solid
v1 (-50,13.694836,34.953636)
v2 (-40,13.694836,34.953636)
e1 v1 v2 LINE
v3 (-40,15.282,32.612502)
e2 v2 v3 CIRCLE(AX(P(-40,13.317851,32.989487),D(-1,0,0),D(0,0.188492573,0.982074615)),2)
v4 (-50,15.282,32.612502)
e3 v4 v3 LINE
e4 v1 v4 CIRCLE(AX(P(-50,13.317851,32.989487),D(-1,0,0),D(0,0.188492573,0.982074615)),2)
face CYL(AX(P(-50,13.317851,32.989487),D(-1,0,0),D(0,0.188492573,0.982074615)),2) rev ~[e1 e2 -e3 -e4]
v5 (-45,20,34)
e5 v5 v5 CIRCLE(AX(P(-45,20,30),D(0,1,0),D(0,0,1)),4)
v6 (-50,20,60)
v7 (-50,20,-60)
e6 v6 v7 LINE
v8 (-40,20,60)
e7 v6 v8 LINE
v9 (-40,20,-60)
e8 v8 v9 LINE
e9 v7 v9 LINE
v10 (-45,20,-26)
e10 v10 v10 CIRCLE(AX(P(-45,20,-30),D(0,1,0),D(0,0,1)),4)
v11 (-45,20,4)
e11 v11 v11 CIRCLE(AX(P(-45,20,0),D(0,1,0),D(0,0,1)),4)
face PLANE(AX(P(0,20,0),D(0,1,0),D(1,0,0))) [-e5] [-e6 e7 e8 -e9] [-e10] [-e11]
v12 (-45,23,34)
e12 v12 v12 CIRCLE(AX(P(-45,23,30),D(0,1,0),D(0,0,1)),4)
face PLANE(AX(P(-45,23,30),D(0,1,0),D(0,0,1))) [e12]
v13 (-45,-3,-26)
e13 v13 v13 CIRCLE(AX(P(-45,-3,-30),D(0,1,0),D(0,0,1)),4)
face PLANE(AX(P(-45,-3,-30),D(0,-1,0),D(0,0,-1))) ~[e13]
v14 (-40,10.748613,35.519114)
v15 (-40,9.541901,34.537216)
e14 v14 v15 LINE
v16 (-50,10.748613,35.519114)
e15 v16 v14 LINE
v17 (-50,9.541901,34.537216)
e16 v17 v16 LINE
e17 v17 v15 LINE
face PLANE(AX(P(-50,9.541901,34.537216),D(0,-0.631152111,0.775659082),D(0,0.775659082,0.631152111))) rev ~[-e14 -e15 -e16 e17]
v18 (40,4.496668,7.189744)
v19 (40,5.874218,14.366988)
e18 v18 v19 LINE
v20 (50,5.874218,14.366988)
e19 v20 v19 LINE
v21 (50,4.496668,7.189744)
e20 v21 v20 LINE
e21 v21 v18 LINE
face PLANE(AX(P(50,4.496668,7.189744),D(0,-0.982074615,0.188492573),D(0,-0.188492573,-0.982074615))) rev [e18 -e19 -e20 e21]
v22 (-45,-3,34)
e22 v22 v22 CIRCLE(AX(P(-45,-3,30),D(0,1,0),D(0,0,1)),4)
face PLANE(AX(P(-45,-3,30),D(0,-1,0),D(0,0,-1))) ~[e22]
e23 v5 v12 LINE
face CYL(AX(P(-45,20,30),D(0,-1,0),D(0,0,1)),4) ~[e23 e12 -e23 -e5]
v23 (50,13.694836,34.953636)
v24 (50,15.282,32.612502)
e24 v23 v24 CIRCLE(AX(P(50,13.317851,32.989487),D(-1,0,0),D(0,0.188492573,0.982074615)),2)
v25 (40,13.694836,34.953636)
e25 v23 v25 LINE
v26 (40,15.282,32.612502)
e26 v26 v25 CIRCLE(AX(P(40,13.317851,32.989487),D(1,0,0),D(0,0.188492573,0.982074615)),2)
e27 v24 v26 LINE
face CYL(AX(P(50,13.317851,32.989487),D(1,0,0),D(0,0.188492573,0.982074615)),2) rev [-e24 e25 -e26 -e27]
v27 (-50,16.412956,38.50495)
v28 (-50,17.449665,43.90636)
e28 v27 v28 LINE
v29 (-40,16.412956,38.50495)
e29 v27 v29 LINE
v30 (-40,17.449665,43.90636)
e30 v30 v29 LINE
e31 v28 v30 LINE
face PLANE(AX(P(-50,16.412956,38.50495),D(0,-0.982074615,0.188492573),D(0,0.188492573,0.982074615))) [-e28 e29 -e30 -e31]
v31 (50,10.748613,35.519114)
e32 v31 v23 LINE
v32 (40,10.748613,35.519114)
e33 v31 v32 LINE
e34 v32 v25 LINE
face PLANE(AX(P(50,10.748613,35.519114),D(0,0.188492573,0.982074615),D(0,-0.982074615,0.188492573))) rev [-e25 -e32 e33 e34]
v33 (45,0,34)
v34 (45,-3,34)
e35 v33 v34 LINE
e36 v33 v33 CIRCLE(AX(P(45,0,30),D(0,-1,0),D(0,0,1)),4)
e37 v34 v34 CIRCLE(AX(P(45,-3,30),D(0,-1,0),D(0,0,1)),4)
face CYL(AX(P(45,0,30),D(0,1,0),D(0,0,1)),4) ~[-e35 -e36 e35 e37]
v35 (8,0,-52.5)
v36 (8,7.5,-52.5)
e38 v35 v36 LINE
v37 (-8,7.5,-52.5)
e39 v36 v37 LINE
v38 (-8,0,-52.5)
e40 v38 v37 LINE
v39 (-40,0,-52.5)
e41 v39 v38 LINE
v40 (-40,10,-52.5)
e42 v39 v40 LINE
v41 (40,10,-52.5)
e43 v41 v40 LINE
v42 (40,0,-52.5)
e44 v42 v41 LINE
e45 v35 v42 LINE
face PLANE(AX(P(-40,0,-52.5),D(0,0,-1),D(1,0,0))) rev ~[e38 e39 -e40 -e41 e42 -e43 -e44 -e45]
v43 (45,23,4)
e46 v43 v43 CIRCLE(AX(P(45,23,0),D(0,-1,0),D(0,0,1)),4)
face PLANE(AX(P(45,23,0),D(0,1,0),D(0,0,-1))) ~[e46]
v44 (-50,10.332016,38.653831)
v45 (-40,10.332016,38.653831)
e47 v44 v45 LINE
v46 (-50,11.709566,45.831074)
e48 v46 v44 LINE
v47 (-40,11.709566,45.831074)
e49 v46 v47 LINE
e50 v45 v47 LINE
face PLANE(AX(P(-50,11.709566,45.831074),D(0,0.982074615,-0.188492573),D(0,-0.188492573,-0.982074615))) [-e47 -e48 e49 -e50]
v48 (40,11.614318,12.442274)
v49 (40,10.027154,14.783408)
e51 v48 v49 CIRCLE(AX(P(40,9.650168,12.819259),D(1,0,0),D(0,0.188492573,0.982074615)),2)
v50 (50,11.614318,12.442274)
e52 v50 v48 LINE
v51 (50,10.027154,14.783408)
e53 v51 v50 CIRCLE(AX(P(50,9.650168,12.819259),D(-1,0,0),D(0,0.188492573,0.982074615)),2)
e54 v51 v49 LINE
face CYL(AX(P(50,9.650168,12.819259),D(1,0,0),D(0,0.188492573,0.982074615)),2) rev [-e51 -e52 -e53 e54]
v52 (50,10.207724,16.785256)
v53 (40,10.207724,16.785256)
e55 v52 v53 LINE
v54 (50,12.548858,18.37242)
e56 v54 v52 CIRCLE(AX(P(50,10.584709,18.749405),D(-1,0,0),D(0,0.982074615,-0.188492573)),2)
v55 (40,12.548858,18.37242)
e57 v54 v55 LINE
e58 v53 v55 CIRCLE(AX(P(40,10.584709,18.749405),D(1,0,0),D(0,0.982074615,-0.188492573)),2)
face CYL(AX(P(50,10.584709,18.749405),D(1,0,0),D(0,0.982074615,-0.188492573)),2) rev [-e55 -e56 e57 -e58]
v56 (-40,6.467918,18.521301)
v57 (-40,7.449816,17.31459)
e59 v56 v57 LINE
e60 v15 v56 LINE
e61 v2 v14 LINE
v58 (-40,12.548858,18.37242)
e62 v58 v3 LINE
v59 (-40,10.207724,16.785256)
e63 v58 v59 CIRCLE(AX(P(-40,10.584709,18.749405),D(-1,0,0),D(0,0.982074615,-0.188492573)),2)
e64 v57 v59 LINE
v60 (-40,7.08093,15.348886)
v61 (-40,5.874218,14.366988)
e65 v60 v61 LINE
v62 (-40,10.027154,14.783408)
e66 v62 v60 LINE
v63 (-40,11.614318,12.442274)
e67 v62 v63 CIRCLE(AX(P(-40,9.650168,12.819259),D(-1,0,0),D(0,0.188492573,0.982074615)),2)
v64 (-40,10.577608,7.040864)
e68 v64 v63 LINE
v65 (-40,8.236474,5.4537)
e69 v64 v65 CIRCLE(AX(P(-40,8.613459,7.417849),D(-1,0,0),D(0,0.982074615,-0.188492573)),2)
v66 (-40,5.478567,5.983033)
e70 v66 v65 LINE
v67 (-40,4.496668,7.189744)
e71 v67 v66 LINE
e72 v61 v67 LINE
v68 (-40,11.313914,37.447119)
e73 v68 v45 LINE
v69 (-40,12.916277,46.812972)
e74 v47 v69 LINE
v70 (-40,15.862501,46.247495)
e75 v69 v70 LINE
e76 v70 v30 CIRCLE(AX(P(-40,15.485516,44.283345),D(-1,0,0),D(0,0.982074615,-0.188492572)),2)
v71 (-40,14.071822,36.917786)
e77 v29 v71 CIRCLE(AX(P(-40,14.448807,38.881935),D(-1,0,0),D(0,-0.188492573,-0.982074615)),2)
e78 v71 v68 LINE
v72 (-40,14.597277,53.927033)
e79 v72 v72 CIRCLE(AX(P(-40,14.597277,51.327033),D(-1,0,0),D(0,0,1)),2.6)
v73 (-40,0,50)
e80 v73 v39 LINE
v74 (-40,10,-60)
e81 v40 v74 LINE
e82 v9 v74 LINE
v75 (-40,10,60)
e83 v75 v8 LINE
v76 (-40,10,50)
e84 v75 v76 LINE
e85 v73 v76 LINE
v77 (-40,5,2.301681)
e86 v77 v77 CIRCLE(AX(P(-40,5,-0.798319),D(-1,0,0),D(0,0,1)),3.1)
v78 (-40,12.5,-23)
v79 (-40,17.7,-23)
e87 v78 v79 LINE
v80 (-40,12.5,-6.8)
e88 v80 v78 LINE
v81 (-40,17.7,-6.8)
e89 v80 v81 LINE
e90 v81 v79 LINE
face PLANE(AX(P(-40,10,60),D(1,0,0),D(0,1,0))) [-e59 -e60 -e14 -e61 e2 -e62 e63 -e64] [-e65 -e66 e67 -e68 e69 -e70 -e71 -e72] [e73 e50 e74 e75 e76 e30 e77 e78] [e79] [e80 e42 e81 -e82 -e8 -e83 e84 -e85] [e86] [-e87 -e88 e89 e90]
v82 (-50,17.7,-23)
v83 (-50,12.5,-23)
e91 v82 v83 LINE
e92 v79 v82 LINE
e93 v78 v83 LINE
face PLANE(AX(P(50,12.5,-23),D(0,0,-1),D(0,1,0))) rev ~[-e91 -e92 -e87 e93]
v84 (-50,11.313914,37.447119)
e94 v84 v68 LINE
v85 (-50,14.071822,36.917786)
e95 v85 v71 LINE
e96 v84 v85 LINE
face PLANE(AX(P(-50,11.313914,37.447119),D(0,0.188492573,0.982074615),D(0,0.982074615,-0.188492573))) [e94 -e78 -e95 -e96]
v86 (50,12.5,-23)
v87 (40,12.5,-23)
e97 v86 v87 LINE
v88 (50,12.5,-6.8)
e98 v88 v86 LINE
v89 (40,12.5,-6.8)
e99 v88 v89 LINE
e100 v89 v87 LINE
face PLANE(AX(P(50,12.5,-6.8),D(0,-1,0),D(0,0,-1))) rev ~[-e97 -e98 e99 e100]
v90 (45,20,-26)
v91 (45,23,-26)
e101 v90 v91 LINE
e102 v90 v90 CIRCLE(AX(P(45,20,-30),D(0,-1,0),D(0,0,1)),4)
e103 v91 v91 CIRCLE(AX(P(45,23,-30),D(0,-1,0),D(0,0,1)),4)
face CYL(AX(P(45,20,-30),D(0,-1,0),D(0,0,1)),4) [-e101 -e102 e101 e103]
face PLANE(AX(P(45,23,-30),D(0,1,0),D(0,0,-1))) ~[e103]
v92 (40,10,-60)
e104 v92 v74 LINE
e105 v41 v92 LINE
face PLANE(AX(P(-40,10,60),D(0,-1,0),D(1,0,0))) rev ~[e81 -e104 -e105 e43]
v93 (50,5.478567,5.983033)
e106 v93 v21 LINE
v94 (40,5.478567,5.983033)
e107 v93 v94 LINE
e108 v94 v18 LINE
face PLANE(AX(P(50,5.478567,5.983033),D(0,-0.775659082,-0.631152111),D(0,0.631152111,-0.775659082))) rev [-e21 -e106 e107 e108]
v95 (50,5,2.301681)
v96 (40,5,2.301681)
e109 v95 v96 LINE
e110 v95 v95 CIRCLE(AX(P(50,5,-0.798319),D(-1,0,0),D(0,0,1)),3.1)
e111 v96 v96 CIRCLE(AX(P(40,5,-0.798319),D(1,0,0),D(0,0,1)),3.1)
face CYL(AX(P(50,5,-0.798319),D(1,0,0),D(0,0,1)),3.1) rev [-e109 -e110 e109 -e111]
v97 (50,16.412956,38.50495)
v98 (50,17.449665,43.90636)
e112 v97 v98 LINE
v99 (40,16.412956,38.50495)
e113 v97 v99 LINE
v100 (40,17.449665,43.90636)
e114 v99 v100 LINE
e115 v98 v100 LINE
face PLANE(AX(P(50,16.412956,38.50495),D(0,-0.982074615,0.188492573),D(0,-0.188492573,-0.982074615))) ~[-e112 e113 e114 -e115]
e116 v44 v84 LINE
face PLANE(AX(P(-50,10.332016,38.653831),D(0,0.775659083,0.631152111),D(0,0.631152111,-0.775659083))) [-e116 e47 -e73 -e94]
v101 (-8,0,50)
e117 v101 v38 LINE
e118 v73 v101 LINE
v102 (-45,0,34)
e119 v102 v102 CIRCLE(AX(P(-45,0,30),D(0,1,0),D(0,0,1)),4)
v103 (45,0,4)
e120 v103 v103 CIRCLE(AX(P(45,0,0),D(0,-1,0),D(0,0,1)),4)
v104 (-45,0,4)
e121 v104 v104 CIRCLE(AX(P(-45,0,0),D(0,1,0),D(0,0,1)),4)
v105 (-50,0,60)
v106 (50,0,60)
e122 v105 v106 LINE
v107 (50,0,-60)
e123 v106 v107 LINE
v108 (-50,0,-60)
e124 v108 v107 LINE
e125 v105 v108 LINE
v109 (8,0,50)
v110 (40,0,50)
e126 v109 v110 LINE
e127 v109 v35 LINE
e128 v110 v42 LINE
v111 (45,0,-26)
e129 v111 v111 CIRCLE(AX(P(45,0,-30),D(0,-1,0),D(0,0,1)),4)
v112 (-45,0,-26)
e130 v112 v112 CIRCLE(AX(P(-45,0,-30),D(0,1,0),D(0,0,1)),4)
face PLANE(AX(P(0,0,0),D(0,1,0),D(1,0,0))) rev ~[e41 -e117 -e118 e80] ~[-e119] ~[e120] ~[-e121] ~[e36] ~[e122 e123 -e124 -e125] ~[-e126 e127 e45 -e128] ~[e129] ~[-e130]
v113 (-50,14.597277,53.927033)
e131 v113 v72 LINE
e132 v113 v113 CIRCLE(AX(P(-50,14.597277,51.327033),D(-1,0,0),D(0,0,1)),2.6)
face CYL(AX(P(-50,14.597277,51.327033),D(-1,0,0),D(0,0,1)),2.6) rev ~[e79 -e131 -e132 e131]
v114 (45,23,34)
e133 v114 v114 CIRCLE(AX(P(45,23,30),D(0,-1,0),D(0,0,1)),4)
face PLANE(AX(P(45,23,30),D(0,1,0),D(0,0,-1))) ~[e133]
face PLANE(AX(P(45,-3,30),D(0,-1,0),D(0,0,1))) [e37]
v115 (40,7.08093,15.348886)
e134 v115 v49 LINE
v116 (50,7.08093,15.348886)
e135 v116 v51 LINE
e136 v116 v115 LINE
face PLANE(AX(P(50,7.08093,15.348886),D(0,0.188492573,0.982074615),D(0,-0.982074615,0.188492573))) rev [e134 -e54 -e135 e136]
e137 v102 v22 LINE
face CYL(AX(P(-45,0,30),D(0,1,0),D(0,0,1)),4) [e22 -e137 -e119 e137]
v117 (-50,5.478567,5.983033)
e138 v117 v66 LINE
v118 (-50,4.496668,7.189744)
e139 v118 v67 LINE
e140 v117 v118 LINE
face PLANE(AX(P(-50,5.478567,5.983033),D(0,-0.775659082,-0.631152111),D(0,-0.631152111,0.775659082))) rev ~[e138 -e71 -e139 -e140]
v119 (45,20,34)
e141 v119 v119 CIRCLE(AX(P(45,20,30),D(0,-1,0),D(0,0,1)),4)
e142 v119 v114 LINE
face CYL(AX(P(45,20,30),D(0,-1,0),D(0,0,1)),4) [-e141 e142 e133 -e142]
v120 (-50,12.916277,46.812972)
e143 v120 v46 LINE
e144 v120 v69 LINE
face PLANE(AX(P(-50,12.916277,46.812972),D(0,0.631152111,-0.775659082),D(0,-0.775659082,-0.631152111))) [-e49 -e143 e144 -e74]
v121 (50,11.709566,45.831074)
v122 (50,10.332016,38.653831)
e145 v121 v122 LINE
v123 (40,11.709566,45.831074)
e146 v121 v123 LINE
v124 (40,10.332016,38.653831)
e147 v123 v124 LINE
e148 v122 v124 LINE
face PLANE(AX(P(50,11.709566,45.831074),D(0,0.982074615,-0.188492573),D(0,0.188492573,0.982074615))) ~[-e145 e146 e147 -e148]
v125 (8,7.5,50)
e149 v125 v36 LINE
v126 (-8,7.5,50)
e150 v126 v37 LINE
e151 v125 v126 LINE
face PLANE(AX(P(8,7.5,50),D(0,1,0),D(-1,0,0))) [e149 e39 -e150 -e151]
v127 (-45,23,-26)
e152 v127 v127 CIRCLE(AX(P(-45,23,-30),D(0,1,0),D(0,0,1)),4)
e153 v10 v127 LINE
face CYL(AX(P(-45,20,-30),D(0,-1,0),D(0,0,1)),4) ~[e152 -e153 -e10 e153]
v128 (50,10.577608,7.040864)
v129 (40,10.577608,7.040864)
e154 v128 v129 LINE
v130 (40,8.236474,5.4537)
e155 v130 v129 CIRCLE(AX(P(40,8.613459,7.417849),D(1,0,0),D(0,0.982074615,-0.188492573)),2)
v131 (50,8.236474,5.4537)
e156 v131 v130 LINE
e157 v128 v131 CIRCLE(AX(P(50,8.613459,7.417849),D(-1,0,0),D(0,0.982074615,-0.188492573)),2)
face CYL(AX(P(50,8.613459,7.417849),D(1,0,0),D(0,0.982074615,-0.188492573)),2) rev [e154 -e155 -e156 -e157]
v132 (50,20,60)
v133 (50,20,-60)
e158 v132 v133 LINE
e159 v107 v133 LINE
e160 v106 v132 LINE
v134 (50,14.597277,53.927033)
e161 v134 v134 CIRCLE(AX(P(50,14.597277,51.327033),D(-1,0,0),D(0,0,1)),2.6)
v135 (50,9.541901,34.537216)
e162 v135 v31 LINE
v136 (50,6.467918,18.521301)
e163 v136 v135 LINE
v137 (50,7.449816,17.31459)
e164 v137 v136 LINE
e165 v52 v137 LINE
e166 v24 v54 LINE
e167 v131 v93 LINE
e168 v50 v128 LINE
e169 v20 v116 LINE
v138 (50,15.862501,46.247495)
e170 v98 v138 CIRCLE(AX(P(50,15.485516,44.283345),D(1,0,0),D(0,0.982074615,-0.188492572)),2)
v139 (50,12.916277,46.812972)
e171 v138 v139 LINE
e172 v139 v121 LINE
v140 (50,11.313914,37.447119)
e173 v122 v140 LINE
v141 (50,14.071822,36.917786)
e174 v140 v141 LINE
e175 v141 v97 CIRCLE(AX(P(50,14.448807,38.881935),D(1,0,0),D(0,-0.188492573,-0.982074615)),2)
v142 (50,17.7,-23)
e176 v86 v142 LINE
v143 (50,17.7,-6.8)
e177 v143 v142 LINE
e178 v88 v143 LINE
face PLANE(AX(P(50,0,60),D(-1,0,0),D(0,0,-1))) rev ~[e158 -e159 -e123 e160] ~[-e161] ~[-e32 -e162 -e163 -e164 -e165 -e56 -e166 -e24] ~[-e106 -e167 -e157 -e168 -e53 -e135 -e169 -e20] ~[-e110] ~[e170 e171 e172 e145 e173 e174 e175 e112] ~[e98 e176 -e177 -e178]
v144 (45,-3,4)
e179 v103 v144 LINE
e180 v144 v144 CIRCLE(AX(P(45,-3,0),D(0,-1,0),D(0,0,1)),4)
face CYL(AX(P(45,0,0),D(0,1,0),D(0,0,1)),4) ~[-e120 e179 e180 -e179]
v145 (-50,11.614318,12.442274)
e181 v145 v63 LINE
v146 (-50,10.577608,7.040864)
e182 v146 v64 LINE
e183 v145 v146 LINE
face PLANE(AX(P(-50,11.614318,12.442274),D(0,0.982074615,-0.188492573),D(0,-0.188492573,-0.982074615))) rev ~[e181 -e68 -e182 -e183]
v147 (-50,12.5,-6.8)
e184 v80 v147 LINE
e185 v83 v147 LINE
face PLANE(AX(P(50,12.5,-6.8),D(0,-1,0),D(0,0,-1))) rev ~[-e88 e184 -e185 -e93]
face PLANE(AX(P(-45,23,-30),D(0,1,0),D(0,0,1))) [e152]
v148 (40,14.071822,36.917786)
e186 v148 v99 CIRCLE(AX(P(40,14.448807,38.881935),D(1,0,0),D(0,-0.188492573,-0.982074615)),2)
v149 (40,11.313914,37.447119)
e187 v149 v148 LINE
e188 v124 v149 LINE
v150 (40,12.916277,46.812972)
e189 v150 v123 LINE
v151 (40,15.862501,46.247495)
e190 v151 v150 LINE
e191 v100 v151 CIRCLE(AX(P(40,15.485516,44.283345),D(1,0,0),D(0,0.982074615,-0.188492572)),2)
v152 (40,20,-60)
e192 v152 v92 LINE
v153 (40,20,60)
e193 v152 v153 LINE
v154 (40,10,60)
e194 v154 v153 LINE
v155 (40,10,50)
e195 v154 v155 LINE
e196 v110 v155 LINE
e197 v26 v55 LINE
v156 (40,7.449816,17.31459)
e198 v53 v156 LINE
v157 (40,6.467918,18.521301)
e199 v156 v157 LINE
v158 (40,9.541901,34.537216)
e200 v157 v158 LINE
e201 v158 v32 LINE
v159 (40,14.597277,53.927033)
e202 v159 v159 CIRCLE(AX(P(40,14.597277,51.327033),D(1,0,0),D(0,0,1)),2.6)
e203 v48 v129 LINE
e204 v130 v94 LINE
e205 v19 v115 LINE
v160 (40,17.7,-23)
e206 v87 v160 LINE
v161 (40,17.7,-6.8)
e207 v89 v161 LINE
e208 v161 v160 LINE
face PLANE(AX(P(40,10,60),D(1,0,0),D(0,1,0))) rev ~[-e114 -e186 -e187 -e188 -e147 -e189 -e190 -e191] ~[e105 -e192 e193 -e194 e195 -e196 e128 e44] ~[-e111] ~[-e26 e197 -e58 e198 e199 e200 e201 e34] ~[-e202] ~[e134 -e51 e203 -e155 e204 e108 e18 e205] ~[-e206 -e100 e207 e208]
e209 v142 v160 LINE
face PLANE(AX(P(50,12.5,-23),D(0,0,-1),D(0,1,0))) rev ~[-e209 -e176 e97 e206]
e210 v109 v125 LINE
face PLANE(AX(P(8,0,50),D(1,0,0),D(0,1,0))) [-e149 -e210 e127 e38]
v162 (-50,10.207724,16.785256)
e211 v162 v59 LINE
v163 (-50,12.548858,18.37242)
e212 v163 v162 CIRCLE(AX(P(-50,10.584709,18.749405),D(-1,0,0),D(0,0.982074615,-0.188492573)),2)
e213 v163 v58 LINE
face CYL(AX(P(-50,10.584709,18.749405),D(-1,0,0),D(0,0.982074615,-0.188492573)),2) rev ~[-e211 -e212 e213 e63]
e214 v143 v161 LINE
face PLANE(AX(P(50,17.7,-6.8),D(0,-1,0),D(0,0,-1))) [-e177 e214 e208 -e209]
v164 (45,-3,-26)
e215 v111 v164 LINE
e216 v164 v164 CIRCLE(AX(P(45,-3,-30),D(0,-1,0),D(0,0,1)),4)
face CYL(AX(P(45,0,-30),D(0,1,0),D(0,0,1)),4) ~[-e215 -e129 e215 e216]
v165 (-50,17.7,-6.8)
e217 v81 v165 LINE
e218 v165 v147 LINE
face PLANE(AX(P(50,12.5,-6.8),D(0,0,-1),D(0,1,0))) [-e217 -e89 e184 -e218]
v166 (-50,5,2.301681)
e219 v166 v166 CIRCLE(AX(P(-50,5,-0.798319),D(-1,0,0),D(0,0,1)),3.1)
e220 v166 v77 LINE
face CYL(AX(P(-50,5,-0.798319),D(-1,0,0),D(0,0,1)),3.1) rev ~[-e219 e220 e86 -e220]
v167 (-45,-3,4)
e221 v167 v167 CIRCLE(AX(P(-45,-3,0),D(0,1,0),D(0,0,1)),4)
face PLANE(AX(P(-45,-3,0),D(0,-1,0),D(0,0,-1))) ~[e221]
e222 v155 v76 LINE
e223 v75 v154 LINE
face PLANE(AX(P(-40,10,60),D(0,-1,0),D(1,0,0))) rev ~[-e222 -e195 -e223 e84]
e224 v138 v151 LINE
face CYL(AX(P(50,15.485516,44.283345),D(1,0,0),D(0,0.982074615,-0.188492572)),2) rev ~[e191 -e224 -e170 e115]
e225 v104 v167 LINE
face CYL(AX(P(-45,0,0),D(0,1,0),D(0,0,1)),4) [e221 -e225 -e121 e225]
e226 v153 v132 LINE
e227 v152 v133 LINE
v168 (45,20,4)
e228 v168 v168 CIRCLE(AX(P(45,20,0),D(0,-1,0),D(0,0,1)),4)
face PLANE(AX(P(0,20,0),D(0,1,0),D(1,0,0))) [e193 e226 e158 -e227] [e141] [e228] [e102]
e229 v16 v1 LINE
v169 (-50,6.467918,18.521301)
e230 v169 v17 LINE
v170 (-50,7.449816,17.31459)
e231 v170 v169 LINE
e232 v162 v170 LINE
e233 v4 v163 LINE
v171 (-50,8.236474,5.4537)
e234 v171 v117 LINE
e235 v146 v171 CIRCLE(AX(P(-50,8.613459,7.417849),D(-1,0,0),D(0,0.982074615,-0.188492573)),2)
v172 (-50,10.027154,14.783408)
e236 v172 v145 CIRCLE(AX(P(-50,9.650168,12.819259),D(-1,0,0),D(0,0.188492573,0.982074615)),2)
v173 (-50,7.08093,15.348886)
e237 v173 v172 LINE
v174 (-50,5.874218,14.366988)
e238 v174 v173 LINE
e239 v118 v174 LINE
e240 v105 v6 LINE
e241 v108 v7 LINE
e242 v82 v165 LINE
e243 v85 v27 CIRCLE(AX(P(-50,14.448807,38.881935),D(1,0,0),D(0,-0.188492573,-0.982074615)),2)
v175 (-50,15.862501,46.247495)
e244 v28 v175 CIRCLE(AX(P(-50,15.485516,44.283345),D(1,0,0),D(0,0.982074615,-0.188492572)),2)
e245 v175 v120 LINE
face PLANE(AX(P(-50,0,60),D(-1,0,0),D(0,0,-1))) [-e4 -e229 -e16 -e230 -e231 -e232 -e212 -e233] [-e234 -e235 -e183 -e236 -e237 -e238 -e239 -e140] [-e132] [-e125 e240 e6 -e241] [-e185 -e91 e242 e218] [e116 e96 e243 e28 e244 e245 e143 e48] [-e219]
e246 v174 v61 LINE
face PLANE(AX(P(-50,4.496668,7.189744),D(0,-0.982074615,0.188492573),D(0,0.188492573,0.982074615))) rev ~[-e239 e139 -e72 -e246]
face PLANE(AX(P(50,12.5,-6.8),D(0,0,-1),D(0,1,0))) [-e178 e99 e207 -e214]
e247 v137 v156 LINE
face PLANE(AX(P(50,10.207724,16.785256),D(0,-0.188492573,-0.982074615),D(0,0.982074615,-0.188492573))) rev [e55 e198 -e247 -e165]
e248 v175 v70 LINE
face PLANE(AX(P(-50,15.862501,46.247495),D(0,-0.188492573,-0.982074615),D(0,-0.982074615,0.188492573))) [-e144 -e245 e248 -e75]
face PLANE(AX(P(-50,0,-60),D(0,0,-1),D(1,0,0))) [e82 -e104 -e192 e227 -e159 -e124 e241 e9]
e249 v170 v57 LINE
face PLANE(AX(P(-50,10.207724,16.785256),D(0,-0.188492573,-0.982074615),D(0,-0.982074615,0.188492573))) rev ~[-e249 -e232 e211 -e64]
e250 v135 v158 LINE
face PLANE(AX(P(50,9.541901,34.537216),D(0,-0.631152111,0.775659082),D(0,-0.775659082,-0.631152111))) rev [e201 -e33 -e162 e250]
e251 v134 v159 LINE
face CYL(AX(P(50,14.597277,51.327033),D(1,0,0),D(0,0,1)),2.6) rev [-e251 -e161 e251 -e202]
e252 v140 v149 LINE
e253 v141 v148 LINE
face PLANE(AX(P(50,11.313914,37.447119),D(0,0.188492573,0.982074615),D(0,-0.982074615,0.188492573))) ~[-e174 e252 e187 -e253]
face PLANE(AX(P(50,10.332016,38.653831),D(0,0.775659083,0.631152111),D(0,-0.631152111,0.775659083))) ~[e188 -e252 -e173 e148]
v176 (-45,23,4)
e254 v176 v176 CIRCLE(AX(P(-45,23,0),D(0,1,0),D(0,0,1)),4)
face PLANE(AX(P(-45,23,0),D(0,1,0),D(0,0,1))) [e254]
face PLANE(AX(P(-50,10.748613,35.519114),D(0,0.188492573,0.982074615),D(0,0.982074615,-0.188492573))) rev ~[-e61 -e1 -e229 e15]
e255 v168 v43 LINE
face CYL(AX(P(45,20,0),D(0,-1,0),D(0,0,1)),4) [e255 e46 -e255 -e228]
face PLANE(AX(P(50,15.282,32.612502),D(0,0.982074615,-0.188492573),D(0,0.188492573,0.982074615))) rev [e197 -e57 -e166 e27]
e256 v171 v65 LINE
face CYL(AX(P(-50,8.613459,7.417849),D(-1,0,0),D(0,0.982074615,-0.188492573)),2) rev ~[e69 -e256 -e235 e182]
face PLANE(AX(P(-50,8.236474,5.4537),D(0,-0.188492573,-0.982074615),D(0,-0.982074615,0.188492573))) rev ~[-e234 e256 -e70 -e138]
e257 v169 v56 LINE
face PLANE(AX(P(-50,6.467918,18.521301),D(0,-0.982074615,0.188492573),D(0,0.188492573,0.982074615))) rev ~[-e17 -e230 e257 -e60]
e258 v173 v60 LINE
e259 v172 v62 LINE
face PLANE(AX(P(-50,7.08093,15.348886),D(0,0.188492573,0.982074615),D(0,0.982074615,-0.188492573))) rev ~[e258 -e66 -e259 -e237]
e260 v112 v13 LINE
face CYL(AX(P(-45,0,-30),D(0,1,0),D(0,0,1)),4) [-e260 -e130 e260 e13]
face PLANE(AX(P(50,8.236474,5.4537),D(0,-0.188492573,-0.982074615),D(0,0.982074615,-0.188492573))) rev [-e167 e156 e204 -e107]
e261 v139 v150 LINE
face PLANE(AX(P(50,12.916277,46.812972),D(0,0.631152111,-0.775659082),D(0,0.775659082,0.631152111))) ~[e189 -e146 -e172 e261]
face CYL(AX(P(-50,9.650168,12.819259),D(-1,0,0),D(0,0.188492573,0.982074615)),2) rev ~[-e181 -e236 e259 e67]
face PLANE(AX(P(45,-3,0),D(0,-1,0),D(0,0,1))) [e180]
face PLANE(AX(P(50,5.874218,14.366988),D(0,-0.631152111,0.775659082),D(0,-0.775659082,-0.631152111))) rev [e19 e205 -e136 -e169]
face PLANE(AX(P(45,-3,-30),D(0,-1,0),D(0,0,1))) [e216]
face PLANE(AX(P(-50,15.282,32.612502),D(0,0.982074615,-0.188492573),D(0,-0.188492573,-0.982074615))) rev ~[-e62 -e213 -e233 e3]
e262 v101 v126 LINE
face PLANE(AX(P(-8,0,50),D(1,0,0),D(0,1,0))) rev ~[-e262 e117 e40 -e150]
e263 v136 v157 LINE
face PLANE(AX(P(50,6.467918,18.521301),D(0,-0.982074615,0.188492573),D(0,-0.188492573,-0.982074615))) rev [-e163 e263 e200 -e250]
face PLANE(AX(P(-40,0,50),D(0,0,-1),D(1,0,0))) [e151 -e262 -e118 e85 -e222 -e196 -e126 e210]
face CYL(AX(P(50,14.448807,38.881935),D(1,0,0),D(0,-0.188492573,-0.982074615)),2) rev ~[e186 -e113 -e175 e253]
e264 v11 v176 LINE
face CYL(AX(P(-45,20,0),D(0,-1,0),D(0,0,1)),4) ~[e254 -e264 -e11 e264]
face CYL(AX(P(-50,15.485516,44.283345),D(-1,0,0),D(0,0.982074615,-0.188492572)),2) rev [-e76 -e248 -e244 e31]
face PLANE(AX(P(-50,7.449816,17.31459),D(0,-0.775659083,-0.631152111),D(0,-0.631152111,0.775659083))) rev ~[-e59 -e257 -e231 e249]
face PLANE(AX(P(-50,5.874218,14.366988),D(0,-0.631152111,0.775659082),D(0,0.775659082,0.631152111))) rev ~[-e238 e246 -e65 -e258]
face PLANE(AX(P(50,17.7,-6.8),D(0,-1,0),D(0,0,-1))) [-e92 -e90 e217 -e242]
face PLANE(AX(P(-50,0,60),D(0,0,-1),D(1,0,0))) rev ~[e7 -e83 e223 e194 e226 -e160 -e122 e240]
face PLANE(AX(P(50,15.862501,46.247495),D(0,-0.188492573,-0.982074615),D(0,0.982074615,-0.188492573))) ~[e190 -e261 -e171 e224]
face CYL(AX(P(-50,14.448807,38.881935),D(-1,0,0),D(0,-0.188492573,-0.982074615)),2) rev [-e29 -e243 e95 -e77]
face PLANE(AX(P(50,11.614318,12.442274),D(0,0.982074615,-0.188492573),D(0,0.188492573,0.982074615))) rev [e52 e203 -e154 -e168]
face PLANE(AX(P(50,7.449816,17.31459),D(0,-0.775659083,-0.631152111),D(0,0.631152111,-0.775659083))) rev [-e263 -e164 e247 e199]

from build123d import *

# Parameters (mm, degrees)
SKETCH1_W               = 100
SKETCH1_H               = 120
SKETCH1_W_2             = 80
SKETCH1_H_2             = 102.5
BOSS_EXTRUDE1_DEPTH     = 20
SKETCH2_R               = 4
BOSS_EXTRUDE2_DEPTH     = 3
MIRROR2_COPY_1_SKETCH_R = 4
MIRROR2_COPY_1_DEPTH    = 3
SKETCH8_W               = 80
SKETCH8_H               = 10
CUT_EXTRUDE5_DEPTH      = 133.018938035
SKETCH12_R              = 3.1
SKETCH12_R_2            = 2.6
CUT_EXTRUDE7_DEPTH      = 14
SKETCH15_W              = 16
SKETCH15_H              = 7.5
BOSS_EXTRUDE4_DEPTH     = 102.5
SKETCH18_W              = 16.2
SKETCH18_H              = 5.2
CUT_EXTRUDE10_DEPTH     = 119.865470175


with BuildPart() as part:
    # Sketch1 → Boss-Extrude1 (new body)
    with BuildSketch(Plane(origin=(0, 0, 0), x_dir=(1, 0, 0), z_dir=(0, 1, 0))):
        Rectangle(SKETCH1_W, SKETCH1_H)
        with Locations((0, 1.25)):
            Rectangle(SKETCH1_W_2, SKETCH1_H_2, mode=Mode.SUBTRACT)
    extrude(amount=BOSS_EXTRUDE1_DEPTH)

    # Sketch2 → Boss-Extrude2 (add)
    with BuildSketch(Plane(origin=(0, 20, 0), x_dir=(1, 0, 0), z_dir=(0, 1, 0))):
        with Locations(Location((-45, 30, 0), (0, 0, 270))):
            Circle(SKETCH2_R)
        with Locations(Location((-45, 0, 0), (0, 0, 270))):
            Circle(SKETCH2_R)
        with Locations(Location((-45, -30, 0), (0, 0, 270))):
            Circle(SKETCH2_R)
    boss_extrude2 = extrude(amount=BOSS_EXTRUDE2_DEPTH)

    # Mirror1: Boss-Extrude2 across plane
    add(boss_extrude2.mirror(Plane(origin=(0, 0, 0), x_dir=(0, 0, 1), z_dir=(1, 0, 0))))

    # Mirror2: Boss-Extrude2 across plane
    add(boss_extrude2.mirror(Plane.ZX.offset(10)))

    # Mirror2 copy 1 sketch → Mirror2 copy 1 (add)
    with BuildSketch(Plane(origin=(0, 0, 0), x_dir=(-1, 0, 0), z_dir=(0, -1, 0))):
        with Locations(Location((-45, 30, 0), (0, 0, 270))):
            Circle(MIRROR2_COPY_1_SKETCH_R)
        with Locations(Location((-45, 0, 0), (0, 0, 270))):
            Circle(MIRROR2_COPY_1_SKETCH_R)
        with Locations(Location((-45, -30, 0), (0, 0, 270))):
            Circle(MIRROR2_COPY_1_SKETCH_R)
    extrude(amount=MIRROR2_COPY_1_DEPTH)

    # Sketch8 → Cut-Extrude5 (cut, through all)
    with BuildSketch(Plane.XY.offset(60)):
        with Locations((0, 15)):
            Rectangle(SKETCH8_W, SKETCH8_H)
    extrude(amount=-CUT_EXTRUDE5_DEPTH, mode=Mode.SUBTRACT)

    # Sketch12 → Cut-Extrude7 (cut)
    with BuildSketch(Plane.ZY.offset(50)):
        with Locations((-0.798318999, 5)):
            Circle(SKETCH12_R)
        with Locations((51.32703264, 14.597276518)):
            Circle(SKETCH12_R_2)
        with BuildLine():
            Line((38.653830619, 10.332015619), (37.447119302, 11.313913997))
            Line((37.447119302, 11.313913997), (36.917785712, 14.071821507))
            ThreePointArc((36.917785712, 14.071821507), (37.226502949, 15.57110114), (38.504949796, 16.412955884))
            Line((38.504949796, 16.412955884), (43.90636018, 17.449665035))
            ThreePointArc((43.90636018, 17.449665035), (45.405639813, 17.140947797), (46.247494557, 15.86250095))
            Line((46.247494557, 15.86250095), (46.812972275, 12.916277104))
            Line((46.812972275, 12.916277104), (45.831073897, 11.709565788))
            Line((45.831073897, 11.709565788), (38.653830619, 10.332015619))
        make_face()
        with BuildLine():
            Line((35.5191142, 10.748612516), (34.953636481, 13.694836362))
            ThreePointArc((34.953636481, 13.694836362), (34.111781738, 14.973283209), (32.612502105, 15.282000446))
            Line((32.612502105, 15.282000446), (18.372420183, 12.548858139))
            ThreePointArc((18.372420183, 12.548858139), (17.093973336, 11.707003396), (16.785256099, 10.207723763))
            Line((16.785256099, 10.207723763), (17.314589689, 7.449816253))
            Line((17.314589689, 7.449816253), (18.521301006, 6.467917875))
            Line((18.521301006, 6.467917875), (34.537215822, 9.5419012))
            Line((34.537215822, 9.5419012), (35.5191142, 10.748612516))
        make_face()
        with BuildLine():
            Line((15.348886072, 7.080929694), (14.783408354, 10.02715354))
            ThreePointArc((14.783408354, 10.02715354), (13.94155361, 11.305600388), (12.442273977, 11.614317625))
            Line((12.442273977, 11.614317625), (7.040863593, 10.577608474))
            ThreePointArc((7.040863593, 10.577608474), (5.762416746, 9.735753731), (5.453699508, 8.236474098))
            Line((5.453699508, 8.236474098), (5.983033099, 5.478566587))
            Line((5.983033099, 5.478566587), (7.189744415, 4.496668209))
            Line((7.189744415, 4.496668209), (14.366987694, 5.874218378))
            Line((14.366987694, 5.874218378), (15.348886072, 7.080929694))
        make_face()
    cut_extrude7 = extrude(amount=-CUT_EXTRUDE7_DEPTH, mode=Mode.SUBTRACT)

    # Mirror5: Cut-Extrude7 across plane
    add(cut_extrude7.mirror(Plane(origin=(0, 0, 0), x_dir=(0, 0, 1), z_dir=(1, 0, 0))), mode=Mode.SUBTRACT)

    # Sketch15 → Boss-Extrude4 (add)
    with BuildSketch(Plane(origin=(0, 0, 50), x_dir=(-1, 0, 0), z_dir=(0, 0, -1))):
        with Locations((0, 3.75)):
            Rectangle(SKETCH15_W, SKETCH15_H)
    extrude(amount=BOSS_EXTRUDE4_DEPTH)

    # Sketch18 → Cut-Extrude10 (cut, through all)
    with BuildSketch(Plane(origin=(50, 0, 0), x_dir=(0, 0, -1), z_dir=(1, 0, 0))):
        with Locations((14.9, 15.1)):
            Rectangle(SKETCH18_W, SKETCH18_H)
    extrude(amount=-CUT_EXTRUDE10_DEPTH, mode=Mode.SUBTRACT)


solid = part.part
